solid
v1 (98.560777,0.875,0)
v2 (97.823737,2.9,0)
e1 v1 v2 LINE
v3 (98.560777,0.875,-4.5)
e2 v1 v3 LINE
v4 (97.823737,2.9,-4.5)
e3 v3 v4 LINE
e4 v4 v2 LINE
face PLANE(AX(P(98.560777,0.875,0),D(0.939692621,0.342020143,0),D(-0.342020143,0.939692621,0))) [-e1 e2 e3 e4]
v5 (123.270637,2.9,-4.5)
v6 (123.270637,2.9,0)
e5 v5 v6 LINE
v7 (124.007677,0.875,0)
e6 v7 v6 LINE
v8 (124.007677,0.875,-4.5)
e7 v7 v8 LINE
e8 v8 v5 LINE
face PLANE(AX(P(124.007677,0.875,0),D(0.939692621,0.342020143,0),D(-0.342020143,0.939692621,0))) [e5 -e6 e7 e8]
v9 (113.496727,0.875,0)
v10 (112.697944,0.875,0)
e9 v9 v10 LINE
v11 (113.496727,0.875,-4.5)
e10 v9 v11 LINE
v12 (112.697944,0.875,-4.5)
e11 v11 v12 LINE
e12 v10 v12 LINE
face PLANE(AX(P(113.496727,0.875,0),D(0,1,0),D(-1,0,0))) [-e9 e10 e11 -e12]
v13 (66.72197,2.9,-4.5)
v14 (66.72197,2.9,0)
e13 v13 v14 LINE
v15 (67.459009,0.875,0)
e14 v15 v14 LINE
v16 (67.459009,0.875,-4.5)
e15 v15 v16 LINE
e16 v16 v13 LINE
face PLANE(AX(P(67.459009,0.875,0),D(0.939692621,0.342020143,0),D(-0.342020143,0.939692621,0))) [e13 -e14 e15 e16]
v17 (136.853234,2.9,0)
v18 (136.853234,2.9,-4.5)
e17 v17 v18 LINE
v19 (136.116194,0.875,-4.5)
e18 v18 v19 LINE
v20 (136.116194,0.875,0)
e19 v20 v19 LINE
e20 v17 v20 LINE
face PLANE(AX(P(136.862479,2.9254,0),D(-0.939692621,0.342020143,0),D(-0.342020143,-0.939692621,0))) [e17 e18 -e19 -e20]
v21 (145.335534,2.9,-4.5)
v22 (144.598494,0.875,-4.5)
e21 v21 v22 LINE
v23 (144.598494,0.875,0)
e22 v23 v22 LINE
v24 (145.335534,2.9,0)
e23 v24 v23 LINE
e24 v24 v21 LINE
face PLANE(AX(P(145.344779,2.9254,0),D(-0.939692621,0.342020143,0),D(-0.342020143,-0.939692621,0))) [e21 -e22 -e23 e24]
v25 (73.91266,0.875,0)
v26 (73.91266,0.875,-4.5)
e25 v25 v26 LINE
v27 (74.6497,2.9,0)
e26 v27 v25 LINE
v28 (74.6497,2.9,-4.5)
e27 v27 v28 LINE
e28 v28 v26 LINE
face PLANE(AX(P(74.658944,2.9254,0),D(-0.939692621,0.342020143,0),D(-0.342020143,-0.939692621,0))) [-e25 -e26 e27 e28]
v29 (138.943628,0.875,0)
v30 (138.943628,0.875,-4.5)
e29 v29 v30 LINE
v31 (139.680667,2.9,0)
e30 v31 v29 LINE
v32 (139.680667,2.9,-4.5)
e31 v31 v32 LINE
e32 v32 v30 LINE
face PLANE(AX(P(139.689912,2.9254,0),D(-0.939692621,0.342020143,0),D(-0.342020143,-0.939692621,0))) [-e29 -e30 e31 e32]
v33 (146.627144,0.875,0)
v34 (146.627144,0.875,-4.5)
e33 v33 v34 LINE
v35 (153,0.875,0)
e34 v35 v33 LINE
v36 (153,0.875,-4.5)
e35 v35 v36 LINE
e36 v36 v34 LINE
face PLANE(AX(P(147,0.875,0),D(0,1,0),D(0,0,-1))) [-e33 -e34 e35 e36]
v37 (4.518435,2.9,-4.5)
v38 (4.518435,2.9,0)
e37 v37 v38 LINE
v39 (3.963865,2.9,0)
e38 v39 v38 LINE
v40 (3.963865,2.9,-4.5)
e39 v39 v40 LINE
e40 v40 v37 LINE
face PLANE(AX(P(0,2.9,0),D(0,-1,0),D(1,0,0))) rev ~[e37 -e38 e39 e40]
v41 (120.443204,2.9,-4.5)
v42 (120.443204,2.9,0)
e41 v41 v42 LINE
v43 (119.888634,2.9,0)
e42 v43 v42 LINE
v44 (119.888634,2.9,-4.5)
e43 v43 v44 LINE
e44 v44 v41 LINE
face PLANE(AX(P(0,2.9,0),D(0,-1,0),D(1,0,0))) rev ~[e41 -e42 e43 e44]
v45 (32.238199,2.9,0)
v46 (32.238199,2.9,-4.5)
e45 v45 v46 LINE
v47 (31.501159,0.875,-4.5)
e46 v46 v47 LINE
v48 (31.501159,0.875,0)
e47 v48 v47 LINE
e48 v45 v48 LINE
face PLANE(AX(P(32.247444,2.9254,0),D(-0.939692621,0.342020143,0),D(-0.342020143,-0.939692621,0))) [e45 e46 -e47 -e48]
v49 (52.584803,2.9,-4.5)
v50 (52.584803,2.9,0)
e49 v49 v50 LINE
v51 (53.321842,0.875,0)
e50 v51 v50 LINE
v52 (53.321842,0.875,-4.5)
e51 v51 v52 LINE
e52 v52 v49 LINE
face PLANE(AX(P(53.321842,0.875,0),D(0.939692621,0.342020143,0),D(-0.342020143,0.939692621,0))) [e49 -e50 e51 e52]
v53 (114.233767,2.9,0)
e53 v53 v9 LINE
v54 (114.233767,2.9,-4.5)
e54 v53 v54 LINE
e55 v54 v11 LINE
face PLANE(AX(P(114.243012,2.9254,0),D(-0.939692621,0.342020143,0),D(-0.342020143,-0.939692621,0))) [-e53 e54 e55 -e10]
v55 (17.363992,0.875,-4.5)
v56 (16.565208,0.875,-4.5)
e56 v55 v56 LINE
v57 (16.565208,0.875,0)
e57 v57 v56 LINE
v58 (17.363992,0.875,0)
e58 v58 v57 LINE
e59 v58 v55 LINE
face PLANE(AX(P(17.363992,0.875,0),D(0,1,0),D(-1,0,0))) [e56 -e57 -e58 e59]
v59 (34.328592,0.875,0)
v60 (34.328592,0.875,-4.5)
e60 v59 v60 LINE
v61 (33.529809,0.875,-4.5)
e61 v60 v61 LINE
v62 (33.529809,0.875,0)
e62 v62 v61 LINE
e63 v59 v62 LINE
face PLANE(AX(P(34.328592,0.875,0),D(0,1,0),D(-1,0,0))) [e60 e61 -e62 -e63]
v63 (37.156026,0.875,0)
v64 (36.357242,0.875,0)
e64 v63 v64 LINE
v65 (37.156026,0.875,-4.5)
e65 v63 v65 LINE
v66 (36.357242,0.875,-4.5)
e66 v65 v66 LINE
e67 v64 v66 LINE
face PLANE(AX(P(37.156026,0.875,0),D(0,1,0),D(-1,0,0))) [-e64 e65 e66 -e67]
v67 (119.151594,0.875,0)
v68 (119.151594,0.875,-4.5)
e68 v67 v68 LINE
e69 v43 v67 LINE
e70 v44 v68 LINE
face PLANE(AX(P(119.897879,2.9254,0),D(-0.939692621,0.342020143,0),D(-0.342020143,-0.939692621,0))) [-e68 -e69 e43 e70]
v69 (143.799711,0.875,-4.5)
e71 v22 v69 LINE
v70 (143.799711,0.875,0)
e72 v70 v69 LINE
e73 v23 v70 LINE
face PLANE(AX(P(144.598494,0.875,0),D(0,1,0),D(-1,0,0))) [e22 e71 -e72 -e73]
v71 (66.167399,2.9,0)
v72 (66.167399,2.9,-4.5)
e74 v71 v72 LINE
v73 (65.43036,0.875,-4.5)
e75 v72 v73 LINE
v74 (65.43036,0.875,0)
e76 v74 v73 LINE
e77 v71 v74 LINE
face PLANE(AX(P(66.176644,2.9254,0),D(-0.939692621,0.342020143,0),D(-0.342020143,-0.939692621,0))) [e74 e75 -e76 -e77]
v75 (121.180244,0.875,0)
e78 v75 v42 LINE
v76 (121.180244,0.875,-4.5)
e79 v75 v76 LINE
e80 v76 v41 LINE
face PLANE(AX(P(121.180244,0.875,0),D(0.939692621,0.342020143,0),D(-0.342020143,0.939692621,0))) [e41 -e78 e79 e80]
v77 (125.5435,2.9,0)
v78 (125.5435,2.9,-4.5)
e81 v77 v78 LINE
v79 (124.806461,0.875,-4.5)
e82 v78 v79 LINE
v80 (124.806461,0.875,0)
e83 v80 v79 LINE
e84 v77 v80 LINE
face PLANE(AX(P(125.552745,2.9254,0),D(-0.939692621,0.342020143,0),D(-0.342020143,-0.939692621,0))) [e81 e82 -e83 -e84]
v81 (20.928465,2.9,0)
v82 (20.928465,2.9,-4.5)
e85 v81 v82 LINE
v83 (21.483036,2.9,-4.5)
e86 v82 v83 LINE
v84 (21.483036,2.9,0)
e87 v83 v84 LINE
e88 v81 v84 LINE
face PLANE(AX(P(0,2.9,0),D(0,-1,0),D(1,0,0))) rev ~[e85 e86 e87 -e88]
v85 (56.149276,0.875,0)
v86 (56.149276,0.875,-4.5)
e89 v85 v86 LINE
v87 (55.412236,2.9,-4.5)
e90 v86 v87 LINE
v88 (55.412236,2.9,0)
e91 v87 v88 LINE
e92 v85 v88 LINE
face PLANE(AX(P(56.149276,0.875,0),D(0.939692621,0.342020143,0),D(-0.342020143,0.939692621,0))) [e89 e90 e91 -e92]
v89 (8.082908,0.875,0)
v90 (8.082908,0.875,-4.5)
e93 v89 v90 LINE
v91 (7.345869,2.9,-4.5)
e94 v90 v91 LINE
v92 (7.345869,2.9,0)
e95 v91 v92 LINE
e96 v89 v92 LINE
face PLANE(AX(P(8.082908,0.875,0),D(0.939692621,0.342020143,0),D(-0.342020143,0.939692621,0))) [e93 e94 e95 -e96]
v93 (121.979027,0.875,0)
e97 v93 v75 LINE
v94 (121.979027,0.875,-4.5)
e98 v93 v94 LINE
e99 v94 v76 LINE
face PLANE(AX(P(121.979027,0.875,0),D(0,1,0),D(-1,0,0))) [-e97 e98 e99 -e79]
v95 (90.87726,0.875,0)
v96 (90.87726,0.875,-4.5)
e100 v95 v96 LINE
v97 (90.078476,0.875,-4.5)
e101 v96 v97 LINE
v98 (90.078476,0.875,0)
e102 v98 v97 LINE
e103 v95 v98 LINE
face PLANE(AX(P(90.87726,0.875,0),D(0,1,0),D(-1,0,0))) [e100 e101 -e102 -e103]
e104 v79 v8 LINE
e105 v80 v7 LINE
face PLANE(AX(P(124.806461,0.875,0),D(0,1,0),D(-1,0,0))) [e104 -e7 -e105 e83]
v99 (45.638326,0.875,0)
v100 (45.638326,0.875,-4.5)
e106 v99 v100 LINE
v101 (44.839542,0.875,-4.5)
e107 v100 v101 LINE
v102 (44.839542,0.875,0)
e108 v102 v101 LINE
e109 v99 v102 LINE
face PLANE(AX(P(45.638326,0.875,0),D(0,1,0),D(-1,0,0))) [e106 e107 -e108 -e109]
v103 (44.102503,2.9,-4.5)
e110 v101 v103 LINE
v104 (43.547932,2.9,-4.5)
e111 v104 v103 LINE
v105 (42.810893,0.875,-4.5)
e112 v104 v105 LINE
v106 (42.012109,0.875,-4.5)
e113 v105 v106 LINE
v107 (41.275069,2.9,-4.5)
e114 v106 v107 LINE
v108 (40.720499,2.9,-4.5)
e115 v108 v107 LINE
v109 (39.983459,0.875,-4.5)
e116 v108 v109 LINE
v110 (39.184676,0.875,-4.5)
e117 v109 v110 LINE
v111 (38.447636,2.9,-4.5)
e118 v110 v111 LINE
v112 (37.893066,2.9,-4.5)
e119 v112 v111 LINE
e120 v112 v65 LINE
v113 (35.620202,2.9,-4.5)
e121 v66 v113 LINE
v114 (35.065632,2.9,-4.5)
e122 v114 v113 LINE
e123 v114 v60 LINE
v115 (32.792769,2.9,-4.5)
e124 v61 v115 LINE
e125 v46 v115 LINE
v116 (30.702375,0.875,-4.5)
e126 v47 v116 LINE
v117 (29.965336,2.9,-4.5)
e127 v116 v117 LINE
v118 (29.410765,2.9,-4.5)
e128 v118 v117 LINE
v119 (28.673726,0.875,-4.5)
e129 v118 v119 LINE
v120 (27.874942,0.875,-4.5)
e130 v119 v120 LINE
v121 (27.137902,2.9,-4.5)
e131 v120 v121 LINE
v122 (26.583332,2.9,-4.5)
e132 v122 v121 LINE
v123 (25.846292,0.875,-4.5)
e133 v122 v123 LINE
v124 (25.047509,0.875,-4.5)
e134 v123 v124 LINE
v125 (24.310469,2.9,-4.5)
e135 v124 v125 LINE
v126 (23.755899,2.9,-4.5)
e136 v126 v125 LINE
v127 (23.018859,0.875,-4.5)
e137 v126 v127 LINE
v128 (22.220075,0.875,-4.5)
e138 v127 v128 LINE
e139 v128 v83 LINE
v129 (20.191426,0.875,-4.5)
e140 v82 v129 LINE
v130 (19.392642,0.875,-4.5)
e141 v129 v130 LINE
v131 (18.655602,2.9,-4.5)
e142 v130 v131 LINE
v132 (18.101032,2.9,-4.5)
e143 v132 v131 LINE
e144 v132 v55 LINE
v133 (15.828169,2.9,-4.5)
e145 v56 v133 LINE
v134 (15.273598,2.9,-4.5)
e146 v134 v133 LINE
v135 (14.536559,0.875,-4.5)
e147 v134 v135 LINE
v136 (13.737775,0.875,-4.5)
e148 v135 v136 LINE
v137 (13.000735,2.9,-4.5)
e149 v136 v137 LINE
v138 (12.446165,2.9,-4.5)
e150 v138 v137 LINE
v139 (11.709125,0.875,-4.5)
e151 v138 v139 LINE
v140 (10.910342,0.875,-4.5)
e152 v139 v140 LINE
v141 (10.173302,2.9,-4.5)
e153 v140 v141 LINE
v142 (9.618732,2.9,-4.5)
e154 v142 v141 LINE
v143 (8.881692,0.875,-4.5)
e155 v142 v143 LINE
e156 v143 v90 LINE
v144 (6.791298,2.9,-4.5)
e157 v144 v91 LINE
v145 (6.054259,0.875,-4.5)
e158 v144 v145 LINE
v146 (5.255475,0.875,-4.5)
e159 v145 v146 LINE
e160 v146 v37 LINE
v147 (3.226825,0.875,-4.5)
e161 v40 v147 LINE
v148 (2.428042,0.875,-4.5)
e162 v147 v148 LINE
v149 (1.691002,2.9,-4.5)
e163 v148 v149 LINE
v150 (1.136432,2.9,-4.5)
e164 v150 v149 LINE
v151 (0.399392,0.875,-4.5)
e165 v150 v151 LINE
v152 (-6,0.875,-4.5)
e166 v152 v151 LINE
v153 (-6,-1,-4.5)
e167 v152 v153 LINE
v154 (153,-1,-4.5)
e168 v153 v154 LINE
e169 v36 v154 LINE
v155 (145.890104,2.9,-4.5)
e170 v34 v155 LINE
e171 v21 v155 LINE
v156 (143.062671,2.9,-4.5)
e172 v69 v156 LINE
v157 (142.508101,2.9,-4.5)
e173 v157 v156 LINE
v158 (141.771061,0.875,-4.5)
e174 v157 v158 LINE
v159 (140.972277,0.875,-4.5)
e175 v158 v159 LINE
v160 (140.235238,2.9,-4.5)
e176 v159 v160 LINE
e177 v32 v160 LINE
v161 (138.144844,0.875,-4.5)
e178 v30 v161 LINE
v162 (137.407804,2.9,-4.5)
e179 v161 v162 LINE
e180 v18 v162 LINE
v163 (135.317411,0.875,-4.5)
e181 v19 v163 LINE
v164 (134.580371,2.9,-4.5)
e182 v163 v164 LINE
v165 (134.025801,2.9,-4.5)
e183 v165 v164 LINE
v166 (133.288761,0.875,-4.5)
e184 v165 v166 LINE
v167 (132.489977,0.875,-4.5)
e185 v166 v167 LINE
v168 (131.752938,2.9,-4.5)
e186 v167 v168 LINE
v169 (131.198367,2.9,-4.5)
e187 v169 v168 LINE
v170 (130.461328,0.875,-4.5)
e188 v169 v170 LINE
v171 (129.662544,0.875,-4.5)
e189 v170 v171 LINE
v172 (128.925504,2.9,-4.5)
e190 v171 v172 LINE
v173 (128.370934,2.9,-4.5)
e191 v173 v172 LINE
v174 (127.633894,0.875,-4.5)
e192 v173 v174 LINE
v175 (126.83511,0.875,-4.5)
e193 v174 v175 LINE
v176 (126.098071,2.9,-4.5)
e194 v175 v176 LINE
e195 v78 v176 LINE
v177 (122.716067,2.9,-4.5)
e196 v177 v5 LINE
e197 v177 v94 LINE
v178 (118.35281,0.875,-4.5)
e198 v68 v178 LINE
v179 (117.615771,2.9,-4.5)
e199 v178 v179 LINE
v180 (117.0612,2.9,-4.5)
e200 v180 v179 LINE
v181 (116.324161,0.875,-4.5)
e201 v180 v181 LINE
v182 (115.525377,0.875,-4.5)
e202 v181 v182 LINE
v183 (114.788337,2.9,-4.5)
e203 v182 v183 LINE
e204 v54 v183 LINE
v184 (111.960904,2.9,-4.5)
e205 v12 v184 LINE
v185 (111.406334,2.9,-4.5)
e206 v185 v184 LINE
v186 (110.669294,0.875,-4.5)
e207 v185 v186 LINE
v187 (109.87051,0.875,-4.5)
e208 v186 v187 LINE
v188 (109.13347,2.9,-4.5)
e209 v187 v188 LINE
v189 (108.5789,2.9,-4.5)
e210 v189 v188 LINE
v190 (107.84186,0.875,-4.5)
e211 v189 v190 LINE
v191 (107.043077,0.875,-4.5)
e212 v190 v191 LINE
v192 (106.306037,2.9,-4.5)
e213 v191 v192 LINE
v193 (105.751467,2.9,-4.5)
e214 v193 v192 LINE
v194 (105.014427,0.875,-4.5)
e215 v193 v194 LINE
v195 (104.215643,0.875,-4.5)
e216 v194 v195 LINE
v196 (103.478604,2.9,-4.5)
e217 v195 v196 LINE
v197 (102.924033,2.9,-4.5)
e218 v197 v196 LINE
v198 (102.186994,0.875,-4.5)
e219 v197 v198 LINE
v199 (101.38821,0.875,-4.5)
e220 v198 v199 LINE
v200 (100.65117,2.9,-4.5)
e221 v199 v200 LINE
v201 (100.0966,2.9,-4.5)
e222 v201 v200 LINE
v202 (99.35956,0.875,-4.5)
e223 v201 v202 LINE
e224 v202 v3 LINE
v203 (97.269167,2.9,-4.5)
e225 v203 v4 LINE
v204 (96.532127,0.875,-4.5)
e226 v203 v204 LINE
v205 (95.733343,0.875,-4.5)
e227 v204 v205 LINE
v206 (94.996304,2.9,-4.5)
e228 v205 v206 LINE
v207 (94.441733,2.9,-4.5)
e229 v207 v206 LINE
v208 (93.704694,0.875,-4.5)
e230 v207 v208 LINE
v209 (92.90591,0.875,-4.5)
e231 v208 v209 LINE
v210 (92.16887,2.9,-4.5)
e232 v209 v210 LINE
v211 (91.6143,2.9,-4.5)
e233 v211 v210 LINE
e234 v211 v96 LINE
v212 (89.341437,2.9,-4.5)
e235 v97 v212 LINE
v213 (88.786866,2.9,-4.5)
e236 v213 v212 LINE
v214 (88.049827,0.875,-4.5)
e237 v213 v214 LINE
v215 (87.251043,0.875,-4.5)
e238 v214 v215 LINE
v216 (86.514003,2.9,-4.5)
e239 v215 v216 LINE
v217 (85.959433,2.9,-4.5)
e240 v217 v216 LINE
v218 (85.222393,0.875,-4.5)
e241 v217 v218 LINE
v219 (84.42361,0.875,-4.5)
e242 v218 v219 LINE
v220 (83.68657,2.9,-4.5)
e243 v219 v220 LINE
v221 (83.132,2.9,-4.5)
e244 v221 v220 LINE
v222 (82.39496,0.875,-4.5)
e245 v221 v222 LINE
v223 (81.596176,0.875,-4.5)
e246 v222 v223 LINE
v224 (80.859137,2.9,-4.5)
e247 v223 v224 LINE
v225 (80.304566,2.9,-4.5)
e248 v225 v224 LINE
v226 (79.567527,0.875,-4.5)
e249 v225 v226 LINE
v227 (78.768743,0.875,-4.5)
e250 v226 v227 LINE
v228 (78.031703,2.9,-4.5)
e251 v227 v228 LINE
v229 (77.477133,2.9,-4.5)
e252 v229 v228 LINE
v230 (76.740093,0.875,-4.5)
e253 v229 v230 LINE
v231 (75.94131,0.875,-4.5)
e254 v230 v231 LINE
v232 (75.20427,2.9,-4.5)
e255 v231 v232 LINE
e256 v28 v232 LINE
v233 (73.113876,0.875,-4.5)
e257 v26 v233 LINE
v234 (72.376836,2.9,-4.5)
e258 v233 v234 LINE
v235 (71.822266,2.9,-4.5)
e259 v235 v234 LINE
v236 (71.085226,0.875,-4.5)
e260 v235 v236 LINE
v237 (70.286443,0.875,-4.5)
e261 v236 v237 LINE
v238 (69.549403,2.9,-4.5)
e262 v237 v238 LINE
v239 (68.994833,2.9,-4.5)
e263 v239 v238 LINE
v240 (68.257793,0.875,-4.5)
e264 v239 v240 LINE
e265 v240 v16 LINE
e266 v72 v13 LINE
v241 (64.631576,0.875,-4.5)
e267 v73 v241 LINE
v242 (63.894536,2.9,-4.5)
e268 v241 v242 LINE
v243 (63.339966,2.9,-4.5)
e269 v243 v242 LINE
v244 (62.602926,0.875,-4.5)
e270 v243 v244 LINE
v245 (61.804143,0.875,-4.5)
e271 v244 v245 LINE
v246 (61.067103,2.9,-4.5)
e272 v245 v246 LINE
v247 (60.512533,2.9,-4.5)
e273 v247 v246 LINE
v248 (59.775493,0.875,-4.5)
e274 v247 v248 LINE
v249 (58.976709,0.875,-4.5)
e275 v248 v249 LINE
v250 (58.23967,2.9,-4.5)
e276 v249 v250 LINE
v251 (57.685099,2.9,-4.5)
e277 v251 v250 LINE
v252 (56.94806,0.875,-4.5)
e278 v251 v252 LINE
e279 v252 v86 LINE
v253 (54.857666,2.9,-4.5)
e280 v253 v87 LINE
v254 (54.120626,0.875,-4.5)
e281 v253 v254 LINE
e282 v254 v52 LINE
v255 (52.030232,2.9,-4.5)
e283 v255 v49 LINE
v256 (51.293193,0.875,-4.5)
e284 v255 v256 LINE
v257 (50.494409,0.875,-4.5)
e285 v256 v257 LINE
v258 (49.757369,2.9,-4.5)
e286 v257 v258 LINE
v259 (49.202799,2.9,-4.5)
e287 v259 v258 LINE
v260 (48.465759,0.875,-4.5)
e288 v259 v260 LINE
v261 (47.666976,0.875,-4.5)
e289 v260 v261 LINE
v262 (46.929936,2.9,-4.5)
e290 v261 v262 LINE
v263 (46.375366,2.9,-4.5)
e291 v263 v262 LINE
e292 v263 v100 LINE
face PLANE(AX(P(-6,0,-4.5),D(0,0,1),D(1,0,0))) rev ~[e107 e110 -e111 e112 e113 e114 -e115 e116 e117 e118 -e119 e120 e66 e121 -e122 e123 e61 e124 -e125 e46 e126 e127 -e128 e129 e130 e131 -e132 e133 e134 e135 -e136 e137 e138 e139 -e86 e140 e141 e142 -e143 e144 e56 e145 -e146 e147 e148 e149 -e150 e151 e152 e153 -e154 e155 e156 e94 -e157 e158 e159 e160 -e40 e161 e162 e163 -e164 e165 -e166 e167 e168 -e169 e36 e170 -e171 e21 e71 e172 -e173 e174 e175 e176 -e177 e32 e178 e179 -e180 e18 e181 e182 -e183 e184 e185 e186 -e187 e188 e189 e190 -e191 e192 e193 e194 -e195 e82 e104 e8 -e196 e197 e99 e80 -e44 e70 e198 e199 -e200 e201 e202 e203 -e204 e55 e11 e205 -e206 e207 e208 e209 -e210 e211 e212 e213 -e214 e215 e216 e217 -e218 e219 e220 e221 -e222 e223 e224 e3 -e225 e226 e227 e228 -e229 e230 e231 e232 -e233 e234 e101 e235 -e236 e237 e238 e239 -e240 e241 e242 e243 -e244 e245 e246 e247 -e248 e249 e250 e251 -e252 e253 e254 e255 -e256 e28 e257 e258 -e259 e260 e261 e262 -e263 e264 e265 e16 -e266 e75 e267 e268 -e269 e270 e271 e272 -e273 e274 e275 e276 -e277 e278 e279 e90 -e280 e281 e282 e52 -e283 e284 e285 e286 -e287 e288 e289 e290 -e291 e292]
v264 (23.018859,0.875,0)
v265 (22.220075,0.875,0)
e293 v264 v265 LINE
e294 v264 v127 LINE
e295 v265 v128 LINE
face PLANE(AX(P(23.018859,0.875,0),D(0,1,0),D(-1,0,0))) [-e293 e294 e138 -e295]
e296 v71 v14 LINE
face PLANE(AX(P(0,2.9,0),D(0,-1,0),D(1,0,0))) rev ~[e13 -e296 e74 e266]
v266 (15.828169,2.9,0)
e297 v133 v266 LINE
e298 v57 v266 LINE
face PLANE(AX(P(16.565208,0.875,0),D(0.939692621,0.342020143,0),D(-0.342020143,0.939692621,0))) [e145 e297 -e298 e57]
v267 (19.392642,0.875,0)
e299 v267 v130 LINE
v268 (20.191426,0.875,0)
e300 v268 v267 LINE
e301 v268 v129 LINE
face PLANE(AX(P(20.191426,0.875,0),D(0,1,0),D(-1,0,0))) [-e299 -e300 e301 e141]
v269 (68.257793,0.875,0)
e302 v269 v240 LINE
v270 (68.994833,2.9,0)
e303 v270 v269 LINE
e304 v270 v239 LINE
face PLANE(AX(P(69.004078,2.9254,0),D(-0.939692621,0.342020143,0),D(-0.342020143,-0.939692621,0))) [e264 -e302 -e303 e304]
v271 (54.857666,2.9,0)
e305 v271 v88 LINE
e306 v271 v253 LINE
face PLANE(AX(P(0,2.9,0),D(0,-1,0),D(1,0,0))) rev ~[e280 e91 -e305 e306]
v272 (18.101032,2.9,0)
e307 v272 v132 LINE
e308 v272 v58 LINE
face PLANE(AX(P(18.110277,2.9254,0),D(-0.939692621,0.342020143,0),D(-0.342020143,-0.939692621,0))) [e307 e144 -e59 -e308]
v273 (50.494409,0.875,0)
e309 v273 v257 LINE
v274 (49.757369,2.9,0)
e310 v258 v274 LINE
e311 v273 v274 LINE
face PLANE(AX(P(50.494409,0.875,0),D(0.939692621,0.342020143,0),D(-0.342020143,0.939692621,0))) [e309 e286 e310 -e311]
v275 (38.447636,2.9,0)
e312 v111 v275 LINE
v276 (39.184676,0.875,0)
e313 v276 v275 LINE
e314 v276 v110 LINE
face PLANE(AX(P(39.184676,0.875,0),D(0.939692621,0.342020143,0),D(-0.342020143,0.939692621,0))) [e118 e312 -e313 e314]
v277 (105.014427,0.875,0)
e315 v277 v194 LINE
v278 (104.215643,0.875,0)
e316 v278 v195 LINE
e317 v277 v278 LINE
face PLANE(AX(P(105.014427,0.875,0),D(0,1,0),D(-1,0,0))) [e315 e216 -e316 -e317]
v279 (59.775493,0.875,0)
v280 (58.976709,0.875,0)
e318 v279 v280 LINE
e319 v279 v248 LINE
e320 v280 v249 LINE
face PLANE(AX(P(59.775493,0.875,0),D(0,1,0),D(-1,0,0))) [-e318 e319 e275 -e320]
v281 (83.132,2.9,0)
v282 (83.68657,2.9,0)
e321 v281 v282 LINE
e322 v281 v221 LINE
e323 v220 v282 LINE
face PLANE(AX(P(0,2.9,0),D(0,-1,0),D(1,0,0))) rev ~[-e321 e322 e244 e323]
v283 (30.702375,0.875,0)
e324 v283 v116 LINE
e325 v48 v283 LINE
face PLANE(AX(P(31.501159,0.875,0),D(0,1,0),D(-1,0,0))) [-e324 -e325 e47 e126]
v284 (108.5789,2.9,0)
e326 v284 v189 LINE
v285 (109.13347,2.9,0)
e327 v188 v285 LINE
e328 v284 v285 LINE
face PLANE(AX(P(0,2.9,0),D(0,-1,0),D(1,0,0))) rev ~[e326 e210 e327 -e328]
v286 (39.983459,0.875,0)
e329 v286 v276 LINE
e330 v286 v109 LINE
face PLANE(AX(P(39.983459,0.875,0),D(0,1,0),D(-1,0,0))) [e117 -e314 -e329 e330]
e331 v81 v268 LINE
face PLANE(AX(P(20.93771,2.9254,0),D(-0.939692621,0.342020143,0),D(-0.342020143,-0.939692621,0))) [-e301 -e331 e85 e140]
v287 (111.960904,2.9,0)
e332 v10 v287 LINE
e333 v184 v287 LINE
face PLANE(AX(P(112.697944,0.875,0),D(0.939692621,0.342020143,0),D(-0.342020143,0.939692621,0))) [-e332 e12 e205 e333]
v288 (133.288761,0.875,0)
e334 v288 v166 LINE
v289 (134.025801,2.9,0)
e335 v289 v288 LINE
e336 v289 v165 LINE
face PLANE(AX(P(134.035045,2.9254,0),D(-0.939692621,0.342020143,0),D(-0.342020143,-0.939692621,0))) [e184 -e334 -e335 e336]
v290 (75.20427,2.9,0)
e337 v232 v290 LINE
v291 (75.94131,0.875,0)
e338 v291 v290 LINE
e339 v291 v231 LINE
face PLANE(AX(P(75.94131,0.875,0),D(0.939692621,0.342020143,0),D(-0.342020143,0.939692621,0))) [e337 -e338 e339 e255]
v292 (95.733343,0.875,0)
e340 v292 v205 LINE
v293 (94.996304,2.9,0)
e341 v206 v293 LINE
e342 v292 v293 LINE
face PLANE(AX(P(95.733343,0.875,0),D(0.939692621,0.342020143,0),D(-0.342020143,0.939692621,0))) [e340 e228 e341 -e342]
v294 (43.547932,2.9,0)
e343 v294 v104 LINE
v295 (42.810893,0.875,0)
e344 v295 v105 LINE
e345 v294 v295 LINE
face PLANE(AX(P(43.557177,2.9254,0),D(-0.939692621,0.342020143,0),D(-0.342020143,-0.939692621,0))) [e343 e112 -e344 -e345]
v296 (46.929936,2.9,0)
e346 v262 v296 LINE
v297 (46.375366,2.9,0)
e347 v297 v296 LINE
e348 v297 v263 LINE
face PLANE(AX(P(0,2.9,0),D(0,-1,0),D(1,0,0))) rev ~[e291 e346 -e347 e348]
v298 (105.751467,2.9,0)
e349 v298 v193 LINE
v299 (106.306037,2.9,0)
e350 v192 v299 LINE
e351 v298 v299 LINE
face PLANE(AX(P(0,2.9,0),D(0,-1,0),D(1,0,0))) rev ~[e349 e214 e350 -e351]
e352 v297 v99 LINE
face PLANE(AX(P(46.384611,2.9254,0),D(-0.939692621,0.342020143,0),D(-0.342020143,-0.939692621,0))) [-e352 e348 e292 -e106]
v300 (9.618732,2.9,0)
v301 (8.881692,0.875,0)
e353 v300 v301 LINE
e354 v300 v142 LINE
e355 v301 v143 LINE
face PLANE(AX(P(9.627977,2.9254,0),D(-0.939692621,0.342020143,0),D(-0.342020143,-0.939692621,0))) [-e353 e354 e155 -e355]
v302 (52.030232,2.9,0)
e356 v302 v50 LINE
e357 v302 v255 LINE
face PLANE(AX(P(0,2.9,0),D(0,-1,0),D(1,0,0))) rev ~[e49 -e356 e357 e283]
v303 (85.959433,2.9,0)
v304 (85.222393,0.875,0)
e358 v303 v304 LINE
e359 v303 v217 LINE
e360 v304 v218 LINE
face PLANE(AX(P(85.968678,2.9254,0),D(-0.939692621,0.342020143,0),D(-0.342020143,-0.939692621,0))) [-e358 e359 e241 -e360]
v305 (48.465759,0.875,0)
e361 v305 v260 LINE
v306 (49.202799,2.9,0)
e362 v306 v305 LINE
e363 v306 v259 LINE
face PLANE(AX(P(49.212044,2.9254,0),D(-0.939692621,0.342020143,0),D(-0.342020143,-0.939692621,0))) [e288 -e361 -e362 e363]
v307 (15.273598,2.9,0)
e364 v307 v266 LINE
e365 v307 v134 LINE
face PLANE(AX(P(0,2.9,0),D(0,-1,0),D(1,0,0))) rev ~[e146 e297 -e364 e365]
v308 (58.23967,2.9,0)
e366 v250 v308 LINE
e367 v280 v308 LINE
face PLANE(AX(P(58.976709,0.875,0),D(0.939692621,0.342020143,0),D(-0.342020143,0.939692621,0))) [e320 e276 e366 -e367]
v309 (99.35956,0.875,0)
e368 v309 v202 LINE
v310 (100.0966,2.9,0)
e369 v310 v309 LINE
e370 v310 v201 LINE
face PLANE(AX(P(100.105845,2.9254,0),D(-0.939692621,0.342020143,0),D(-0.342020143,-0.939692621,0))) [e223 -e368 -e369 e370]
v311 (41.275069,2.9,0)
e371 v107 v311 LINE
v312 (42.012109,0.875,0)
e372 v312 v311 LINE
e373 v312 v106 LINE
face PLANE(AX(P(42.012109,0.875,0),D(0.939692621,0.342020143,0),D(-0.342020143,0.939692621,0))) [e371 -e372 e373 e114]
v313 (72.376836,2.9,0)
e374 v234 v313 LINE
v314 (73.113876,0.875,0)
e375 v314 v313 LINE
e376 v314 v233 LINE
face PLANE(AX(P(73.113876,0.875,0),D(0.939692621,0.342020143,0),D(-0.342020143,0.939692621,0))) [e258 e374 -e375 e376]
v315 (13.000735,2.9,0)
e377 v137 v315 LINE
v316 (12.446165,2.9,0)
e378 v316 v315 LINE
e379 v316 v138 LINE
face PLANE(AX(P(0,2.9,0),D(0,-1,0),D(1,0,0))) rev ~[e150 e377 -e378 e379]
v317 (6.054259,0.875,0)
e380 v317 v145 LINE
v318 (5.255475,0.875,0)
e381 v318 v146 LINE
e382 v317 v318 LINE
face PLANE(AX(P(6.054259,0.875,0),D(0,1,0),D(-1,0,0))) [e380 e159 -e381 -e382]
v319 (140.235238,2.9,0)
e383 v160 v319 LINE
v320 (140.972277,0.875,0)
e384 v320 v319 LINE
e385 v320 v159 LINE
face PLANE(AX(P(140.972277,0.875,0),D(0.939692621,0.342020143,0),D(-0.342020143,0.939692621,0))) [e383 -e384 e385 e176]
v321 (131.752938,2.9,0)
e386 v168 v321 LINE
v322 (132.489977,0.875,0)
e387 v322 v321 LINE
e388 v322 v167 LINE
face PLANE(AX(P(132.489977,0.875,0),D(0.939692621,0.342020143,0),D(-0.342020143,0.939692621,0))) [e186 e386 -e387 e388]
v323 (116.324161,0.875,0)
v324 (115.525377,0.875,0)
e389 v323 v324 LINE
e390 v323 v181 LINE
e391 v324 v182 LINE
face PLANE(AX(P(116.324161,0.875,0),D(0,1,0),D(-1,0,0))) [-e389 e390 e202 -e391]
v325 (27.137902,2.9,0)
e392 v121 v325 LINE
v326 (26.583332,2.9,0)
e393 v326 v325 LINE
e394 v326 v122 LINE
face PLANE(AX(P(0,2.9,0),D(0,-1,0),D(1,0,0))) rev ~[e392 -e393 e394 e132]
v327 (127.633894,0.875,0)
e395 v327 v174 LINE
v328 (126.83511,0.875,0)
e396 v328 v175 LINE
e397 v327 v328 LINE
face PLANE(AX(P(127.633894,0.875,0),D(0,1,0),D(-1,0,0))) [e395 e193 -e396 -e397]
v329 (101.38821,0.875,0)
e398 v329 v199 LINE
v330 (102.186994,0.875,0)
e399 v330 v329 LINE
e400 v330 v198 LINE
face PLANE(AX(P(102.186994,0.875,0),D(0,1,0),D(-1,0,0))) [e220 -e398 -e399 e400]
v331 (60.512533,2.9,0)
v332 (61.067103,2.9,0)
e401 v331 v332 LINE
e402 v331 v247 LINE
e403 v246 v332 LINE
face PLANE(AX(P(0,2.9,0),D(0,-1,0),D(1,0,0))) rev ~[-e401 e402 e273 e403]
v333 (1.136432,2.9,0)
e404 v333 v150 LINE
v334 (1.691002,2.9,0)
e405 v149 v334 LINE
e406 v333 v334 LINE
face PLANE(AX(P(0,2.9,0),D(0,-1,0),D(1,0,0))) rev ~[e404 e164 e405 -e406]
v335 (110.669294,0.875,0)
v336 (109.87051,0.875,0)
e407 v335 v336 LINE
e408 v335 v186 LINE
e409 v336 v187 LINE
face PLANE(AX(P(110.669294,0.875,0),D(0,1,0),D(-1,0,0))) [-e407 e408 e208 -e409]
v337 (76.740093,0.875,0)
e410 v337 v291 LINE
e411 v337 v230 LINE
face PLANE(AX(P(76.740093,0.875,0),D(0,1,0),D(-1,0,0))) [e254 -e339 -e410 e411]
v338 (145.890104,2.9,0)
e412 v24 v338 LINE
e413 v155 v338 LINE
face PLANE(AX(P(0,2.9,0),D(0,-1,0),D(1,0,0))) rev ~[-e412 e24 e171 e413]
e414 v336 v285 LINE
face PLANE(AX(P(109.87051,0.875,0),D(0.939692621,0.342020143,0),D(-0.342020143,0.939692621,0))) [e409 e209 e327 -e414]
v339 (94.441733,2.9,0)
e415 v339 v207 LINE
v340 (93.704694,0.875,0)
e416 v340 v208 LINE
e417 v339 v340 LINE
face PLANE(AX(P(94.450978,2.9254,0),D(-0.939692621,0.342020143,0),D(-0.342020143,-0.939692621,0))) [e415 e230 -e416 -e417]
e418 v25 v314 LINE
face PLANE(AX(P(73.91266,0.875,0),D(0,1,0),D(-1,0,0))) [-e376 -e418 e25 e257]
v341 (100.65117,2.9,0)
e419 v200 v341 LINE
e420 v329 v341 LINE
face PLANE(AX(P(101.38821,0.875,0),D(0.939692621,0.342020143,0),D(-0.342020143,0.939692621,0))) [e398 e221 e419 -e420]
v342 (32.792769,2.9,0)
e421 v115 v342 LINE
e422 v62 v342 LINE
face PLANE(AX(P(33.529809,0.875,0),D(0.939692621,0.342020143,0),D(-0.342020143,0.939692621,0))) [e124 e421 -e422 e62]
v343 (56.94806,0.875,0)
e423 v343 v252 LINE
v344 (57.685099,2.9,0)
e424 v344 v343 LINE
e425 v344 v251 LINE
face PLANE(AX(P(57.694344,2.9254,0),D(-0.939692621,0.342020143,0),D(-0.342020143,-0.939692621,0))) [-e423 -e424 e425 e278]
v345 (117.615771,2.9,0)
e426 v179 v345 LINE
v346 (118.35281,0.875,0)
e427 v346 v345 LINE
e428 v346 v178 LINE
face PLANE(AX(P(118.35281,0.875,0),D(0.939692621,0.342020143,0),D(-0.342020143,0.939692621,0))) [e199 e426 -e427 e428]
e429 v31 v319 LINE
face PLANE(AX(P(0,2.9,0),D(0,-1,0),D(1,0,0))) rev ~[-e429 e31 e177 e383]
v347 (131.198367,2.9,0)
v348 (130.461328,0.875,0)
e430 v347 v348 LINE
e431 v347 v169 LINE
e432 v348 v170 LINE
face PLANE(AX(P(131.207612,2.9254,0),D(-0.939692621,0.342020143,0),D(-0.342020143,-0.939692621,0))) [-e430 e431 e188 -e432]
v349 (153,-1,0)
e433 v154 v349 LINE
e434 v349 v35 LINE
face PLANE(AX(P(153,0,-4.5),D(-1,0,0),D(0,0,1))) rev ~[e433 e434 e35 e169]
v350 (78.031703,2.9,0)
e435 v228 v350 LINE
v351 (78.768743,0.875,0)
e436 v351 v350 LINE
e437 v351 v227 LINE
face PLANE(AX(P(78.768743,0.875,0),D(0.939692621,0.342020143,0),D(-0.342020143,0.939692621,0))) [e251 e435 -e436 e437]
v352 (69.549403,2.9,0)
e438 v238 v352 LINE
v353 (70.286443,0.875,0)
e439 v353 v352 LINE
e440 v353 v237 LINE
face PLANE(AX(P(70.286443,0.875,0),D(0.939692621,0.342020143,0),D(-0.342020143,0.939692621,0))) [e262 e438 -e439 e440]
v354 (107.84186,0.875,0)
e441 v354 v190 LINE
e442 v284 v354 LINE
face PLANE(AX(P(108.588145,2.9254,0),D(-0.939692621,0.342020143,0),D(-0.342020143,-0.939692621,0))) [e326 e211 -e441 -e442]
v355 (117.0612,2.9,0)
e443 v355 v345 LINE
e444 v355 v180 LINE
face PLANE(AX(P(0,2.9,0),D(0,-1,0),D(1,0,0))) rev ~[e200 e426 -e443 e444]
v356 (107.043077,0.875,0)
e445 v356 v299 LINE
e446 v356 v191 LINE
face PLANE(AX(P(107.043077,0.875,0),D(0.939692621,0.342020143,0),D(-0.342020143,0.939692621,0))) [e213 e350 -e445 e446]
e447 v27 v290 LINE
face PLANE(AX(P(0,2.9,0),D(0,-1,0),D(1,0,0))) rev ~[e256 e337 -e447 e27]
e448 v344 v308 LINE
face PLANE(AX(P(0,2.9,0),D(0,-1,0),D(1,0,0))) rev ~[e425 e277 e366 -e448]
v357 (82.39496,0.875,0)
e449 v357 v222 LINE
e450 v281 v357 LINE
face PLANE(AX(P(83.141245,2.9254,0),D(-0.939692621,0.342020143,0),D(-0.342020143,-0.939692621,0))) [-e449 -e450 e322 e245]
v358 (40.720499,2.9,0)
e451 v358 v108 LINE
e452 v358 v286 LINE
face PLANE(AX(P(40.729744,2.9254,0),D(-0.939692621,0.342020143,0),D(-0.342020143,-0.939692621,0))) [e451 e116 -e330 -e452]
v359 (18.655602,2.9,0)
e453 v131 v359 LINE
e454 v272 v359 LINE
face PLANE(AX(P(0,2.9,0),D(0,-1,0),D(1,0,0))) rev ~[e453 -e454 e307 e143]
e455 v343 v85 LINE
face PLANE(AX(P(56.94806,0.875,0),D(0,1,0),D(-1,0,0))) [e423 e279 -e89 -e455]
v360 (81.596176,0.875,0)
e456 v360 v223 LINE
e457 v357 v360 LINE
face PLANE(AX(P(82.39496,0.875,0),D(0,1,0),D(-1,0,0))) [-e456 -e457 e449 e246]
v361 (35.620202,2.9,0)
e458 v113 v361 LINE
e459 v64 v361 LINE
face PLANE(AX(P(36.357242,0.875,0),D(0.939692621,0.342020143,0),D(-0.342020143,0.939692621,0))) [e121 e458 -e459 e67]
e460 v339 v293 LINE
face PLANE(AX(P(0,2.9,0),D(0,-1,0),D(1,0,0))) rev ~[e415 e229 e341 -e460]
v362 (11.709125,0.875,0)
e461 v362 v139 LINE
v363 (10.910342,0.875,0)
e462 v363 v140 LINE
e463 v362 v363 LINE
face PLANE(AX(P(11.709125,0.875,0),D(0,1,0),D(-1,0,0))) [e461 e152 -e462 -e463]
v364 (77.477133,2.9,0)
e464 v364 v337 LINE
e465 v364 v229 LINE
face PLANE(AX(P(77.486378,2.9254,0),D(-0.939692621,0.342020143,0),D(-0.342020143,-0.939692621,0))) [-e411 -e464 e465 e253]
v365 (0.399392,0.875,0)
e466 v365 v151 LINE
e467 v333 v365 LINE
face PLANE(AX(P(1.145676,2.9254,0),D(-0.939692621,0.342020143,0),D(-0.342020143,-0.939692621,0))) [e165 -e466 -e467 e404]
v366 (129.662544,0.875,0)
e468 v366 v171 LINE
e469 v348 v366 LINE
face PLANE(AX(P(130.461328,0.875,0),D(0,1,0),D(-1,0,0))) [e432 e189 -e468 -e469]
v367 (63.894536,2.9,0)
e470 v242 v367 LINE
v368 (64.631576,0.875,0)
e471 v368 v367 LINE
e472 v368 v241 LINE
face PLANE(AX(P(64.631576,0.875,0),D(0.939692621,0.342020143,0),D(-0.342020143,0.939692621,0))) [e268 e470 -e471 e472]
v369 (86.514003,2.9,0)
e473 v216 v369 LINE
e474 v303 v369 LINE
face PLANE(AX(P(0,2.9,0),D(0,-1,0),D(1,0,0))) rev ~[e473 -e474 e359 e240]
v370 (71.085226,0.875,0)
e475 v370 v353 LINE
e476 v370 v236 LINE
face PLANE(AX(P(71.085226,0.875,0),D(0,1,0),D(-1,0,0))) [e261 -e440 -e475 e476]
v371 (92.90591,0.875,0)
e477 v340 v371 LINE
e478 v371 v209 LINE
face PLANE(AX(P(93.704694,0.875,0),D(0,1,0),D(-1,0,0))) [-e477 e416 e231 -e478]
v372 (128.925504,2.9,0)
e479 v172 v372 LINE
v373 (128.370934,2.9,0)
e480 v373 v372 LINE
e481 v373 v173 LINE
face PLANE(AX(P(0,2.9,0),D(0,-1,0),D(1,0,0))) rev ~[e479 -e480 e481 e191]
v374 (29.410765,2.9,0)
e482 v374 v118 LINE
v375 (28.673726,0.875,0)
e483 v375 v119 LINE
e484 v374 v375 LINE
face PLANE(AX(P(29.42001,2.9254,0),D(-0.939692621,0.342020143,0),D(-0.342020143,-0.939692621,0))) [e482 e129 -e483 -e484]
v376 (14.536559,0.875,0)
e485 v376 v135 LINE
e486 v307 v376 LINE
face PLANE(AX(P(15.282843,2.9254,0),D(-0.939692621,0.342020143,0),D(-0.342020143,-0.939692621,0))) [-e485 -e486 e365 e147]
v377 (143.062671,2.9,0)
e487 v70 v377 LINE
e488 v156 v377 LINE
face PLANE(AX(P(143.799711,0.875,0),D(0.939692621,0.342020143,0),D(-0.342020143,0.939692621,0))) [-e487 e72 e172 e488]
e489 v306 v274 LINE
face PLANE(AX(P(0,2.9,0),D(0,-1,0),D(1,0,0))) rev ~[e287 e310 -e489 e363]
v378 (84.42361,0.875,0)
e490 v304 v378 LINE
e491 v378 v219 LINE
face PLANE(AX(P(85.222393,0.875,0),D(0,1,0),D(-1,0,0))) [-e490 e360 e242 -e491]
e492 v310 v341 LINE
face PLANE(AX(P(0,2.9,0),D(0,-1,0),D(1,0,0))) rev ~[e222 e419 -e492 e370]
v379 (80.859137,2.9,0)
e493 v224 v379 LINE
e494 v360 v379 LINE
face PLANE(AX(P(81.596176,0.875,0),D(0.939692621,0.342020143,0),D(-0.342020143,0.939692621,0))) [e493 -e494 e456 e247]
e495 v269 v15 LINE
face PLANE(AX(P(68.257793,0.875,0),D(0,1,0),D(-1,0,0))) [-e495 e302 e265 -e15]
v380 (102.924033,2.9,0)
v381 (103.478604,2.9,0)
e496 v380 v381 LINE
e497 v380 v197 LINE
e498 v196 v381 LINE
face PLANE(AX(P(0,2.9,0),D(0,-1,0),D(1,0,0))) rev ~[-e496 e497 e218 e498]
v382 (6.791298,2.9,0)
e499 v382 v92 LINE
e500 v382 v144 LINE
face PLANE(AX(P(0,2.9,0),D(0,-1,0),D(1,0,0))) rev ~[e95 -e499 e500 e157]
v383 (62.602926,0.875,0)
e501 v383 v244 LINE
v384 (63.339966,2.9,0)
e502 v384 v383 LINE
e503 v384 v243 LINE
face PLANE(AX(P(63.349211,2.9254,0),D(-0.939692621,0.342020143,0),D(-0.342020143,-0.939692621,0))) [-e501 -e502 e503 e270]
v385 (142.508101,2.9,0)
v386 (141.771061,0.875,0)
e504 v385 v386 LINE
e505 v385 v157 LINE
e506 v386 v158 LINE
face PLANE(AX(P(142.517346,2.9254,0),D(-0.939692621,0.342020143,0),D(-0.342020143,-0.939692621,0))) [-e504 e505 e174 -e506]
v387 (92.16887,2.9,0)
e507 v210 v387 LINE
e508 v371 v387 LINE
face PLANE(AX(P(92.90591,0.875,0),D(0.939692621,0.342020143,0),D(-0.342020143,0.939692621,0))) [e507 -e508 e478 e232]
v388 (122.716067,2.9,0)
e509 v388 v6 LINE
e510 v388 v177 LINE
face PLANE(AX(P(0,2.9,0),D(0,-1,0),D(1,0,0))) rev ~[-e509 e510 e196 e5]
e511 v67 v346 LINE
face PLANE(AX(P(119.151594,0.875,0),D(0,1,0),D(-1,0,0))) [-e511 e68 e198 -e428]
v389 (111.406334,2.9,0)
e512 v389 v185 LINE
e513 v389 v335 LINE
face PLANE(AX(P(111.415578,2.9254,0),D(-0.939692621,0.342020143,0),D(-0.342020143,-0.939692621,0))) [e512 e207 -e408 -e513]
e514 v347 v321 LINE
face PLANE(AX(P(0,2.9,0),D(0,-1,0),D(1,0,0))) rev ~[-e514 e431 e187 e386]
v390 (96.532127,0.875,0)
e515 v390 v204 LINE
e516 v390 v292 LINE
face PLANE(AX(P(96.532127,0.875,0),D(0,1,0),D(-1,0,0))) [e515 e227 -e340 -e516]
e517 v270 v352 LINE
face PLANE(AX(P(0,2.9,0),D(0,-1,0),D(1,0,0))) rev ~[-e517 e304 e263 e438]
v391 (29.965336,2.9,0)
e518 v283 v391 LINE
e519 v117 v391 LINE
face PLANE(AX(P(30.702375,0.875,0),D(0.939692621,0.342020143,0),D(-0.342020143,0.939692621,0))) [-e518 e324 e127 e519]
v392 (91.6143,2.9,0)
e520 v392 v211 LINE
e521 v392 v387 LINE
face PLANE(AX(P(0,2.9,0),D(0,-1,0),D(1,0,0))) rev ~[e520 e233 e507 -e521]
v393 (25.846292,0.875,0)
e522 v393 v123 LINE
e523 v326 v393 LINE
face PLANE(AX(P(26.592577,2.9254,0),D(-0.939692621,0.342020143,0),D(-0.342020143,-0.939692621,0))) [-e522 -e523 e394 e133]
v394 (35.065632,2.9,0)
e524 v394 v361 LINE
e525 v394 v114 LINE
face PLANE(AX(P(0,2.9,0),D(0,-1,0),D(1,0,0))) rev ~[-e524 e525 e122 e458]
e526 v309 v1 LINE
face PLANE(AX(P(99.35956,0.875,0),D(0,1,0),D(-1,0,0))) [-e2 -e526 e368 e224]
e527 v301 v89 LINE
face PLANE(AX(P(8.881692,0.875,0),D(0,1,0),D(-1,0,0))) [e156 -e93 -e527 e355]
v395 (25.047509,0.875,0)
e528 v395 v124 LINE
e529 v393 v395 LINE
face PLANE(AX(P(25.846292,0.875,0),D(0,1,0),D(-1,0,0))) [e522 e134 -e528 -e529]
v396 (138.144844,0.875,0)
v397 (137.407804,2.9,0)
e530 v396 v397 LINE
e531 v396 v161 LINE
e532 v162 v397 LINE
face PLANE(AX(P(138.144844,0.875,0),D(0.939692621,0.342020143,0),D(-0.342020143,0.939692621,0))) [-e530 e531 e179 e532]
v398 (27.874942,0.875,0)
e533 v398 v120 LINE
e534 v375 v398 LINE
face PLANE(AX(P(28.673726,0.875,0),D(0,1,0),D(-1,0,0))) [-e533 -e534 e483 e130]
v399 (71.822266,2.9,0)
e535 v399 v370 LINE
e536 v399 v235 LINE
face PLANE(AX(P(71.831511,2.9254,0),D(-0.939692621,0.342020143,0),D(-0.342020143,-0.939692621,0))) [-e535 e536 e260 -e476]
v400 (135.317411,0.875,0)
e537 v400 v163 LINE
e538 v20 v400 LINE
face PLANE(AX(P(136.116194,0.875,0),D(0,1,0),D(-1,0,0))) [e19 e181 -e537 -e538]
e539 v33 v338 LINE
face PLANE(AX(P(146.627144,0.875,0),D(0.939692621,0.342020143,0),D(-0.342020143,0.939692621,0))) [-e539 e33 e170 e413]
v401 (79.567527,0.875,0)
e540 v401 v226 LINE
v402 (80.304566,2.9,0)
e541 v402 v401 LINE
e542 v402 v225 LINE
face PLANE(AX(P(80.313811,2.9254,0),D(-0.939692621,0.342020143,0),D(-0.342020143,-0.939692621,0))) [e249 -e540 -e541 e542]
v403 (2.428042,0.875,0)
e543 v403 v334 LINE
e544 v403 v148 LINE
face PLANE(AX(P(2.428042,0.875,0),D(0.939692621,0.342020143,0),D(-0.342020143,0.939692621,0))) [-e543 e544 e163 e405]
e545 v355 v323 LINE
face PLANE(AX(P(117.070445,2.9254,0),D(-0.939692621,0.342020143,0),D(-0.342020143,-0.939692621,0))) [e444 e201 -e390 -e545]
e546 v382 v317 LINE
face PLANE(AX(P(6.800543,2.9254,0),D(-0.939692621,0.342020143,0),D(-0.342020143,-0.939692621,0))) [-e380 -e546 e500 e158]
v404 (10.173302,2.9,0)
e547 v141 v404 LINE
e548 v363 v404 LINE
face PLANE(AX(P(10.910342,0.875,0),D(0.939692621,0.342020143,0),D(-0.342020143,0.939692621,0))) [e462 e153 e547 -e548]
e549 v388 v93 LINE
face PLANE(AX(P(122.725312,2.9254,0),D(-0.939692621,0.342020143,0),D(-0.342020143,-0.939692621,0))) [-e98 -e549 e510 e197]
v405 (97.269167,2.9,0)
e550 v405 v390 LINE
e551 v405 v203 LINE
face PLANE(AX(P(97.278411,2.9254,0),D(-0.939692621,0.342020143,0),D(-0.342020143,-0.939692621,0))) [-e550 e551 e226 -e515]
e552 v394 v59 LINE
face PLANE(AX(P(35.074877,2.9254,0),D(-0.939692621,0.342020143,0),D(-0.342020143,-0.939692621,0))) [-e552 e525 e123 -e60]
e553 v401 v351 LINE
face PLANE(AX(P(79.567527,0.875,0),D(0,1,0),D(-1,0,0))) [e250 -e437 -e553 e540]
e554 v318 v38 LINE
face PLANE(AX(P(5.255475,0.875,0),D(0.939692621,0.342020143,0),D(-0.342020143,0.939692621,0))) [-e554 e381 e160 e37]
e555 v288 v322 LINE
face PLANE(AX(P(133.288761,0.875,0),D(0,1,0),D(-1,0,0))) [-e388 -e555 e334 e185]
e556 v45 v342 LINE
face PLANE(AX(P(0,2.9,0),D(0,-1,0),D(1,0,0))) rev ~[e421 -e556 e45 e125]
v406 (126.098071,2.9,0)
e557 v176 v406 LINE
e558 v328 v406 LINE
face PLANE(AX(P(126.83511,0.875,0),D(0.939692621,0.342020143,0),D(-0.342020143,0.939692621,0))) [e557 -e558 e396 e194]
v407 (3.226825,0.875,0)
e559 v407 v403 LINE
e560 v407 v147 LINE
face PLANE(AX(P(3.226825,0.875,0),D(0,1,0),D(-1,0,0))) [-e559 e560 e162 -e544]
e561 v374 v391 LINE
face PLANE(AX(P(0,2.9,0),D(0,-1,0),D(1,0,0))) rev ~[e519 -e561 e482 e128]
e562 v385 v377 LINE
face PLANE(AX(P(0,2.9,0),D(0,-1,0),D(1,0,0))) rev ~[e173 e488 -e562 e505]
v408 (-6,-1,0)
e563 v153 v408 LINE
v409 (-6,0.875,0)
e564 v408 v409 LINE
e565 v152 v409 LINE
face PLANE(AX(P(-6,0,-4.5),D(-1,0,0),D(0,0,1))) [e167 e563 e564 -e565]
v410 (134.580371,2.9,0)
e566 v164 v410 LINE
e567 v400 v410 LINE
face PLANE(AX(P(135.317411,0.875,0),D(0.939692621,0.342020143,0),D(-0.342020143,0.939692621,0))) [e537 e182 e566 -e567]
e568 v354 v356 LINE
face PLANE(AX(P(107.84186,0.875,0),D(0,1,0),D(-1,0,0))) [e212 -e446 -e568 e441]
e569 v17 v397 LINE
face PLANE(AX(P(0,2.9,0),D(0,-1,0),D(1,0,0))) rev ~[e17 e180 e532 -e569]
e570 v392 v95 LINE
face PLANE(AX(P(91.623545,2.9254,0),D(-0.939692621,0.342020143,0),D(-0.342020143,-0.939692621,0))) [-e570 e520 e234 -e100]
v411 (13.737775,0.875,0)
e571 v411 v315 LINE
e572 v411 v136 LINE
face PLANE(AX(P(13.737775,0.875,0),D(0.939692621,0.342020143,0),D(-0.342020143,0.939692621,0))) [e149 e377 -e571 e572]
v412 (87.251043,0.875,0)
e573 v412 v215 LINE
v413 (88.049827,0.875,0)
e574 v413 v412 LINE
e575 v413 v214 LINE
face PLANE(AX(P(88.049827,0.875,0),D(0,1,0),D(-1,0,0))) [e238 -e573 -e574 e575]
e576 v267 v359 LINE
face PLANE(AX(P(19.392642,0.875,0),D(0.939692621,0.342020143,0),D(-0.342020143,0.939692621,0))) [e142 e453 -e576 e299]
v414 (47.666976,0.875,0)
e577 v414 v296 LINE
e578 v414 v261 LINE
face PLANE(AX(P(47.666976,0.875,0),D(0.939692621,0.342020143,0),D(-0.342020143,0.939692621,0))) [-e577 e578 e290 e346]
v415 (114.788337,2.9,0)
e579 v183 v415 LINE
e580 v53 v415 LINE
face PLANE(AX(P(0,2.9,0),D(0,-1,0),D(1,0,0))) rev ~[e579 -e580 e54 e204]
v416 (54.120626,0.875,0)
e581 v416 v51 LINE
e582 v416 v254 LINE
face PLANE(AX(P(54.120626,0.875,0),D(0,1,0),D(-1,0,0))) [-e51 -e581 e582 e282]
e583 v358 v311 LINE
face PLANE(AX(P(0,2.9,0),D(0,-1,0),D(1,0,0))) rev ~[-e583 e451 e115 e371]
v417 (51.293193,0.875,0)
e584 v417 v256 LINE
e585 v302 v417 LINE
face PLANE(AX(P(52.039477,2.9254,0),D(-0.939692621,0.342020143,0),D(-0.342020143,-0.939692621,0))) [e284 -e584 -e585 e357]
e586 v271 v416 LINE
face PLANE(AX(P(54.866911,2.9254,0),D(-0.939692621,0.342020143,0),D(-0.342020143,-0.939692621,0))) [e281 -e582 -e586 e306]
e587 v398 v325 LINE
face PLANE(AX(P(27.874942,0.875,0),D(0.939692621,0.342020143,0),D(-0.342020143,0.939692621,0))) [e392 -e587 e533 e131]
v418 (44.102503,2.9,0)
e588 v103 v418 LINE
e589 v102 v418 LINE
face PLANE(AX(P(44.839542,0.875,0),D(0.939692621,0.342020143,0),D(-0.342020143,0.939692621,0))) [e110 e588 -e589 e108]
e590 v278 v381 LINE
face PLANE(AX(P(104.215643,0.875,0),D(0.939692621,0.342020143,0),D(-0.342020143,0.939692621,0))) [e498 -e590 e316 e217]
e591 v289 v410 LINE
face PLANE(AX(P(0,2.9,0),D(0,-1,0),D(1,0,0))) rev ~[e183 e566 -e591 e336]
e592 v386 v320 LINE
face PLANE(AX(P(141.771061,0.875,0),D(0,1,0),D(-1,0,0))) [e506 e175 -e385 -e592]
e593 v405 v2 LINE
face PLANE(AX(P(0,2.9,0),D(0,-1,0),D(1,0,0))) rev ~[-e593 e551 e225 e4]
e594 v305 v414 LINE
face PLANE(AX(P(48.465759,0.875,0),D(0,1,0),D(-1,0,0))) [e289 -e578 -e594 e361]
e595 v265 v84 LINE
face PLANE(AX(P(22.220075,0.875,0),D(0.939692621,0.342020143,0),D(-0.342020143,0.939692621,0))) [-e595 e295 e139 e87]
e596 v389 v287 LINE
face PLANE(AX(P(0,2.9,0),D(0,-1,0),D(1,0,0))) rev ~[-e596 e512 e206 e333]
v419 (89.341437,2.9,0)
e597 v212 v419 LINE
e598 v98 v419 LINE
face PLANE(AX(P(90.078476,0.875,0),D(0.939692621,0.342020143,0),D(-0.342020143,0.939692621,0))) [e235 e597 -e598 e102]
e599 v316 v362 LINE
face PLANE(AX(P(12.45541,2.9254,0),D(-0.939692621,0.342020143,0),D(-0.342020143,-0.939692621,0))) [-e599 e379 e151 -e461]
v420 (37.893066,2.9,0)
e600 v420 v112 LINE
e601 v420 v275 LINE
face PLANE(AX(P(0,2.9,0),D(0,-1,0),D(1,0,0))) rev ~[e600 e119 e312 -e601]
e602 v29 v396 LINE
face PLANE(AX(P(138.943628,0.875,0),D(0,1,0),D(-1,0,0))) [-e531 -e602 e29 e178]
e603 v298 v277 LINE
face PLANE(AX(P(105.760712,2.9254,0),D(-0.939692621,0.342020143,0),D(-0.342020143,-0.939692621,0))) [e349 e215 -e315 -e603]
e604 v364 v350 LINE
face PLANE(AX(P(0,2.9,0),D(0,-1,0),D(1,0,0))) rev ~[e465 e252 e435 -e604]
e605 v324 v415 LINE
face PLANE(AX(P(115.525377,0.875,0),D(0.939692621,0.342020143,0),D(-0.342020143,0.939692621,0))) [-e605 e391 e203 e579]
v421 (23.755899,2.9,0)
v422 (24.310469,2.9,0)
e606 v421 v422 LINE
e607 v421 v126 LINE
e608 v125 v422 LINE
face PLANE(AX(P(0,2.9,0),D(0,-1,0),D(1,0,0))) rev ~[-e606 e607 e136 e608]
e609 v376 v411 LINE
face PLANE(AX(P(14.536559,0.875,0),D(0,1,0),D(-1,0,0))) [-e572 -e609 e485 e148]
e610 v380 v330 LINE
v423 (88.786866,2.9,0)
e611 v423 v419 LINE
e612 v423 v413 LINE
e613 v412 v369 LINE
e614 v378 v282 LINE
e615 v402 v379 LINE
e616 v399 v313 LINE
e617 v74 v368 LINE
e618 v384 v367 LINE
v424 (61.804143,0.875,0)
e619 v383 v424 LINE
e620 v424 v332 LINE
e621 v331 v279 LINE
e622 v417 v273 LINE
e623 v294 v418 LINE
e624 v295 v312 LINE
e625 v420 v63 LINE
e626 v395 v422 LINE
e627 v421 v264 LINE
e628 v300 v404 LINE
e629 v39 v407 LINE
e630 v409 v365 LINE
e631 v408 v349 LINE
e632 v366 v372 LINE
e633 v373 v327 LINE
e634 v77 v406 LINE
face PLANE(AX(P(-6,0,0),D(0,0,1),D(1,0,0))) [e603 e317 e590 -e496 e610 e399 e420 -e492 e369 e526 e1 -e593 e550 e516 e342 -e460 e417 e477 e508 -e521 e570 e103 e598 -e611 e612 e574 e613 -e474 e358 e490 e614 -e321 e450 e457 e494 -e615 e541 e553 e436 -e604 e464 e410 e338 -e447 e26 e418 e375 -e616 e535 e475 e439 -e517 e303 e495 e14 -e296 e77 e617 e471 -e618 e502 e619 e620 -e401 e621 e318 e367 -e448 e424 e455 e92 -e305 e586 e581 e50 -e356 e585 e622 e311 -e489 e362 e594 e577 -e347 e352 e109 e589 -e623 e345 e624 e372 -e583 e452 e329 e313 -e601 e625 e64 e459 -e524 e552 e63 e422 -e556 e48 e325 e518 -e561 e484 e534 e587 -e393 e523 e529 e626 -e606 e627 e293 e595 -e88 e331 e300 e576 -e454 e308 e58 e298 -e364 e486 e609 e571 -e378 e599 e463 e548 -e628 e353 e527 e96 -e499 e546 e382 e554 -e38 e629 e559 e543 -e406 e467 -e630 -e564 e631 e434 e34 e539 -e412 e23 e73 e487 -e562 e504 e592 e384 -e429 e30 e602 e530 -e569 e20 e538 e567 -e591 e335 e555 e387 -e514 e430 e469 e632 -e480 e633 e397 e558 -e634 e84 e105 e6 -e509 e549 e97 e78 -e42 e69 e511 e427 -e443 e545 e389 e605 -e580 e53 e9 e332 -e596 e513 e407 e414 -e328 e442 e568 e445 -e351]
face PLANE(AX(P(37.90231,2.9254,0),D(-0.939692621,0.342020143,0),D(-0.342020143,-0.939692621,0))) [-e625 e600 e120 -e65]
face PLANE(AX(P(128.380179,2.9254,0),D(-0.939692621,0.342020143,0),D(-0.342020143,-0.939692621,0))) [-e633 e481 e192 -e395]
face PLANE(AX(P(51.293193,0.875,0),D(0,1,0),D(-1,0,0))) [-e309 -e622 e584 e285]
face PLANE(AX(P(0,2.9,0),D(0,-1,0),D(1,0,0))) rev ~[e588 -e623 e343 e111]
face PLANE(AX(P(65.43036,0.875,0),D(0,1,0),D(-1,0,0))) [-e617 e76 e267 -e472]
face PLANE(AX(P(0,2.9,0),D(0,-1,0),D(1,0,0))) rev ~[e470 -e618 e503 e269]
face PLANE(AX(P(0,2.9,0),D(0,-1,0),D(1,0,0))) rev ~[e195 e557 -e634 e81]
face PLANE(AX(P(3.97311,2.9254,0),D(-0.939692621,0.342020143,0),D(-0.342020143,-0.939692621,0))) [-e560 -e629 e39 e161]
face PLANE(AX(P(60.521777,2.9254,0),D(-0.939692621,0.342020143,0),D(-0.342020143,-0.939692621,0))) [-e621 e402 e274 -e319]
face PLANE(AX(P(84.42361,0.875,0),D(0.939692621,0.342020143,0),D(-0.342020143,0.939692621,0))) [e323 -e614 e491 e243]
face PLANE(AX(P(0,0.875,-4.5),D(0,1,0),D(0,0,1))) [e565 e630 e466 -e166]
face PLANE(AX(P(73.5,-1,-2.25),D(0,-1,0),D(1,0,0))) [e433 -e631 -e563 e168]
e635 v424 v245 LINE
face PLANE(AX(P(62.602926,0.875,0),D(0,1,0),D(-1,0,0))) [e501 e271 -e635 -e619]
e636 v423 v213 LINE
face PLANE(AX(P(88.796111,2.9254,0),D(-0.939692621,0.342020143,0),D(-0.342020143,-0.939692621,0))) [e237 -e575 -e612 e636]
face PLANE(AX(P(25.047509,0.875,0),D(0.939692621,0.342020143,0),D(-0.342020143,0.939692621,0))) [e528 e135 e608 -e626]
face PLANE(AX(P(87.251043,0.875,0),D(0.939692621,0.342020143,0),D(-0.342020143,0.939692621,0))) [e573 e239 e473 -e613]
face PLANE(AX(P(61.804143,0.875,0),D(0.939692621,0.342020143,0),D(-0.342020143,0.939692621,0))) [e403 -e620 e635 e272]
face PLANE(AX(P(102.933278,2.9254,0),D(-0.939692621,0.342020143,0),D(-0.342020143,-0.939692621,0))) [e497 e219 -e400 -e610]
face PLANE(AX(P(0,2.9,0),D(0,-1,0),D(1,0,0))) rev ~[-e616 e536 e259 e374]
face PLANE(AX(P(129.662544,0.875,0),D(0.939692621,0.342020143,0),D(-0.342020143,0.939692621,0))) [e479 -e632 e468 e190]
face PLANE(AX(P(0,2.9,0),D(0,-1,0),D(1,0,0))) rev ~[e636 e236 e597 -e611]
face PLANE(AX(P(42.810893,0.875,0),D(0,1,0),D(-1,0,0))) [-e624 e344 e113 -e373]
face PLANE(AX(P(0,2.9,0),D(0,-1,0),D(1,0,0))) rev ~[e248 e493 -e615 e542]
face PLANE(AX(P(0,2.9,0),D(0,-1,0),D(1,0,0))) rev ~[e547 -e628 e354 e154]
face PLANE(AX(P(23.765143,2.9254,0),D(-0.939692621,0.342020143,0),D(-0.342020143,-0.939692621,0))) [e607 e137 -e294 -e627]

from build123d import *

# Parameters (mm, degrees)
BLANKSKE_W          = 147
BLANKSKE_H          = 2.9
BLANK_DEPTH         = 4.5
TOOTHCUTSIM_DEPTH   = 148.097450692
TEETHCUTS_COUNT     = 53
TEETHCUTS_PITCH     = 2.827433385
SKETCH1_W           = 4.5
SKETCH1_H           = 0.875
BOSS_EXTRUDE1_DEPTH = 6
SKETCH2_W           = 4.5
SKETCH2_H           = 0.875
BOSS_EXTRUDE2_DEPTH = 6
SKETCH3_W           = 159
SKETCH3_H           = 4.5
BOSS_EXTRUDE3_DEPTH = 1


with BuildPart() as part:
    # BlankSke → Blank (new body)
    with BuildSketch(Plane.XY):
        with Locations((73.5, 1.45)):
            Rectangle(BLANKSKE_W, BLANKSKE_H)
    extrude(amount=-BLANK_DEPTH)

    # TooCutSkeSim → ToothCutSim (cut, through all)
    with BuildSketch(Plane.XY):
        Polygon((0.399391833, 0.875), (-0.399391833, 0.875), (-1.145676401, 2.9254), (1.145676401, 2.9254), align=None)
    toothcutsim = extrude(amount=-TOOTHCUTSIM_DEPTH, mode=Mode.SUBTRACT)

    # TeethCuts: ToothCutSim ×53
    with Locations(*[(i * TEETHCUTS_PITCH, 0, 0) for i in range(1, TEETHCUTS_COUNT)]):
        add(toothcutsim, mode=Mode.SUBTRACT)

    # Sketch1 → Boss-Extrude1 (add)
    with BuildSketch(Plane(origin=(147, 0, 0), x_dir=(0, 0, -1), z_dir=(1, 0, 0))):
        with Locations((2.25, 0.4375)):
            Rectangle(SKETCH1_W, SKETCH1_H)
    extrude(amount=BOSS_EXTRUDE1_DEPTH)

    # Sketch2 → Boss-Extrude2 (add)
    with BuildSketch(Plane.ZY):
        with Locations((-2.25, 0.4375)):
            Rectangle(SKETCH2_W, SKETCH2_H)
    extrude(amount=BOSS_EXTRUDE2_DEPTH)

    # Sketch3 → Boss-Extrude3 (add)
    with BuildSketch(Plane.XZ):
        with Locations((73.5, -2.25)):
            Rectangle(SKETCH3_W, SKETCH3_H)
    extrude(amount=BOSS_EXTRUDE3_DEPTH)


solid = part.part
